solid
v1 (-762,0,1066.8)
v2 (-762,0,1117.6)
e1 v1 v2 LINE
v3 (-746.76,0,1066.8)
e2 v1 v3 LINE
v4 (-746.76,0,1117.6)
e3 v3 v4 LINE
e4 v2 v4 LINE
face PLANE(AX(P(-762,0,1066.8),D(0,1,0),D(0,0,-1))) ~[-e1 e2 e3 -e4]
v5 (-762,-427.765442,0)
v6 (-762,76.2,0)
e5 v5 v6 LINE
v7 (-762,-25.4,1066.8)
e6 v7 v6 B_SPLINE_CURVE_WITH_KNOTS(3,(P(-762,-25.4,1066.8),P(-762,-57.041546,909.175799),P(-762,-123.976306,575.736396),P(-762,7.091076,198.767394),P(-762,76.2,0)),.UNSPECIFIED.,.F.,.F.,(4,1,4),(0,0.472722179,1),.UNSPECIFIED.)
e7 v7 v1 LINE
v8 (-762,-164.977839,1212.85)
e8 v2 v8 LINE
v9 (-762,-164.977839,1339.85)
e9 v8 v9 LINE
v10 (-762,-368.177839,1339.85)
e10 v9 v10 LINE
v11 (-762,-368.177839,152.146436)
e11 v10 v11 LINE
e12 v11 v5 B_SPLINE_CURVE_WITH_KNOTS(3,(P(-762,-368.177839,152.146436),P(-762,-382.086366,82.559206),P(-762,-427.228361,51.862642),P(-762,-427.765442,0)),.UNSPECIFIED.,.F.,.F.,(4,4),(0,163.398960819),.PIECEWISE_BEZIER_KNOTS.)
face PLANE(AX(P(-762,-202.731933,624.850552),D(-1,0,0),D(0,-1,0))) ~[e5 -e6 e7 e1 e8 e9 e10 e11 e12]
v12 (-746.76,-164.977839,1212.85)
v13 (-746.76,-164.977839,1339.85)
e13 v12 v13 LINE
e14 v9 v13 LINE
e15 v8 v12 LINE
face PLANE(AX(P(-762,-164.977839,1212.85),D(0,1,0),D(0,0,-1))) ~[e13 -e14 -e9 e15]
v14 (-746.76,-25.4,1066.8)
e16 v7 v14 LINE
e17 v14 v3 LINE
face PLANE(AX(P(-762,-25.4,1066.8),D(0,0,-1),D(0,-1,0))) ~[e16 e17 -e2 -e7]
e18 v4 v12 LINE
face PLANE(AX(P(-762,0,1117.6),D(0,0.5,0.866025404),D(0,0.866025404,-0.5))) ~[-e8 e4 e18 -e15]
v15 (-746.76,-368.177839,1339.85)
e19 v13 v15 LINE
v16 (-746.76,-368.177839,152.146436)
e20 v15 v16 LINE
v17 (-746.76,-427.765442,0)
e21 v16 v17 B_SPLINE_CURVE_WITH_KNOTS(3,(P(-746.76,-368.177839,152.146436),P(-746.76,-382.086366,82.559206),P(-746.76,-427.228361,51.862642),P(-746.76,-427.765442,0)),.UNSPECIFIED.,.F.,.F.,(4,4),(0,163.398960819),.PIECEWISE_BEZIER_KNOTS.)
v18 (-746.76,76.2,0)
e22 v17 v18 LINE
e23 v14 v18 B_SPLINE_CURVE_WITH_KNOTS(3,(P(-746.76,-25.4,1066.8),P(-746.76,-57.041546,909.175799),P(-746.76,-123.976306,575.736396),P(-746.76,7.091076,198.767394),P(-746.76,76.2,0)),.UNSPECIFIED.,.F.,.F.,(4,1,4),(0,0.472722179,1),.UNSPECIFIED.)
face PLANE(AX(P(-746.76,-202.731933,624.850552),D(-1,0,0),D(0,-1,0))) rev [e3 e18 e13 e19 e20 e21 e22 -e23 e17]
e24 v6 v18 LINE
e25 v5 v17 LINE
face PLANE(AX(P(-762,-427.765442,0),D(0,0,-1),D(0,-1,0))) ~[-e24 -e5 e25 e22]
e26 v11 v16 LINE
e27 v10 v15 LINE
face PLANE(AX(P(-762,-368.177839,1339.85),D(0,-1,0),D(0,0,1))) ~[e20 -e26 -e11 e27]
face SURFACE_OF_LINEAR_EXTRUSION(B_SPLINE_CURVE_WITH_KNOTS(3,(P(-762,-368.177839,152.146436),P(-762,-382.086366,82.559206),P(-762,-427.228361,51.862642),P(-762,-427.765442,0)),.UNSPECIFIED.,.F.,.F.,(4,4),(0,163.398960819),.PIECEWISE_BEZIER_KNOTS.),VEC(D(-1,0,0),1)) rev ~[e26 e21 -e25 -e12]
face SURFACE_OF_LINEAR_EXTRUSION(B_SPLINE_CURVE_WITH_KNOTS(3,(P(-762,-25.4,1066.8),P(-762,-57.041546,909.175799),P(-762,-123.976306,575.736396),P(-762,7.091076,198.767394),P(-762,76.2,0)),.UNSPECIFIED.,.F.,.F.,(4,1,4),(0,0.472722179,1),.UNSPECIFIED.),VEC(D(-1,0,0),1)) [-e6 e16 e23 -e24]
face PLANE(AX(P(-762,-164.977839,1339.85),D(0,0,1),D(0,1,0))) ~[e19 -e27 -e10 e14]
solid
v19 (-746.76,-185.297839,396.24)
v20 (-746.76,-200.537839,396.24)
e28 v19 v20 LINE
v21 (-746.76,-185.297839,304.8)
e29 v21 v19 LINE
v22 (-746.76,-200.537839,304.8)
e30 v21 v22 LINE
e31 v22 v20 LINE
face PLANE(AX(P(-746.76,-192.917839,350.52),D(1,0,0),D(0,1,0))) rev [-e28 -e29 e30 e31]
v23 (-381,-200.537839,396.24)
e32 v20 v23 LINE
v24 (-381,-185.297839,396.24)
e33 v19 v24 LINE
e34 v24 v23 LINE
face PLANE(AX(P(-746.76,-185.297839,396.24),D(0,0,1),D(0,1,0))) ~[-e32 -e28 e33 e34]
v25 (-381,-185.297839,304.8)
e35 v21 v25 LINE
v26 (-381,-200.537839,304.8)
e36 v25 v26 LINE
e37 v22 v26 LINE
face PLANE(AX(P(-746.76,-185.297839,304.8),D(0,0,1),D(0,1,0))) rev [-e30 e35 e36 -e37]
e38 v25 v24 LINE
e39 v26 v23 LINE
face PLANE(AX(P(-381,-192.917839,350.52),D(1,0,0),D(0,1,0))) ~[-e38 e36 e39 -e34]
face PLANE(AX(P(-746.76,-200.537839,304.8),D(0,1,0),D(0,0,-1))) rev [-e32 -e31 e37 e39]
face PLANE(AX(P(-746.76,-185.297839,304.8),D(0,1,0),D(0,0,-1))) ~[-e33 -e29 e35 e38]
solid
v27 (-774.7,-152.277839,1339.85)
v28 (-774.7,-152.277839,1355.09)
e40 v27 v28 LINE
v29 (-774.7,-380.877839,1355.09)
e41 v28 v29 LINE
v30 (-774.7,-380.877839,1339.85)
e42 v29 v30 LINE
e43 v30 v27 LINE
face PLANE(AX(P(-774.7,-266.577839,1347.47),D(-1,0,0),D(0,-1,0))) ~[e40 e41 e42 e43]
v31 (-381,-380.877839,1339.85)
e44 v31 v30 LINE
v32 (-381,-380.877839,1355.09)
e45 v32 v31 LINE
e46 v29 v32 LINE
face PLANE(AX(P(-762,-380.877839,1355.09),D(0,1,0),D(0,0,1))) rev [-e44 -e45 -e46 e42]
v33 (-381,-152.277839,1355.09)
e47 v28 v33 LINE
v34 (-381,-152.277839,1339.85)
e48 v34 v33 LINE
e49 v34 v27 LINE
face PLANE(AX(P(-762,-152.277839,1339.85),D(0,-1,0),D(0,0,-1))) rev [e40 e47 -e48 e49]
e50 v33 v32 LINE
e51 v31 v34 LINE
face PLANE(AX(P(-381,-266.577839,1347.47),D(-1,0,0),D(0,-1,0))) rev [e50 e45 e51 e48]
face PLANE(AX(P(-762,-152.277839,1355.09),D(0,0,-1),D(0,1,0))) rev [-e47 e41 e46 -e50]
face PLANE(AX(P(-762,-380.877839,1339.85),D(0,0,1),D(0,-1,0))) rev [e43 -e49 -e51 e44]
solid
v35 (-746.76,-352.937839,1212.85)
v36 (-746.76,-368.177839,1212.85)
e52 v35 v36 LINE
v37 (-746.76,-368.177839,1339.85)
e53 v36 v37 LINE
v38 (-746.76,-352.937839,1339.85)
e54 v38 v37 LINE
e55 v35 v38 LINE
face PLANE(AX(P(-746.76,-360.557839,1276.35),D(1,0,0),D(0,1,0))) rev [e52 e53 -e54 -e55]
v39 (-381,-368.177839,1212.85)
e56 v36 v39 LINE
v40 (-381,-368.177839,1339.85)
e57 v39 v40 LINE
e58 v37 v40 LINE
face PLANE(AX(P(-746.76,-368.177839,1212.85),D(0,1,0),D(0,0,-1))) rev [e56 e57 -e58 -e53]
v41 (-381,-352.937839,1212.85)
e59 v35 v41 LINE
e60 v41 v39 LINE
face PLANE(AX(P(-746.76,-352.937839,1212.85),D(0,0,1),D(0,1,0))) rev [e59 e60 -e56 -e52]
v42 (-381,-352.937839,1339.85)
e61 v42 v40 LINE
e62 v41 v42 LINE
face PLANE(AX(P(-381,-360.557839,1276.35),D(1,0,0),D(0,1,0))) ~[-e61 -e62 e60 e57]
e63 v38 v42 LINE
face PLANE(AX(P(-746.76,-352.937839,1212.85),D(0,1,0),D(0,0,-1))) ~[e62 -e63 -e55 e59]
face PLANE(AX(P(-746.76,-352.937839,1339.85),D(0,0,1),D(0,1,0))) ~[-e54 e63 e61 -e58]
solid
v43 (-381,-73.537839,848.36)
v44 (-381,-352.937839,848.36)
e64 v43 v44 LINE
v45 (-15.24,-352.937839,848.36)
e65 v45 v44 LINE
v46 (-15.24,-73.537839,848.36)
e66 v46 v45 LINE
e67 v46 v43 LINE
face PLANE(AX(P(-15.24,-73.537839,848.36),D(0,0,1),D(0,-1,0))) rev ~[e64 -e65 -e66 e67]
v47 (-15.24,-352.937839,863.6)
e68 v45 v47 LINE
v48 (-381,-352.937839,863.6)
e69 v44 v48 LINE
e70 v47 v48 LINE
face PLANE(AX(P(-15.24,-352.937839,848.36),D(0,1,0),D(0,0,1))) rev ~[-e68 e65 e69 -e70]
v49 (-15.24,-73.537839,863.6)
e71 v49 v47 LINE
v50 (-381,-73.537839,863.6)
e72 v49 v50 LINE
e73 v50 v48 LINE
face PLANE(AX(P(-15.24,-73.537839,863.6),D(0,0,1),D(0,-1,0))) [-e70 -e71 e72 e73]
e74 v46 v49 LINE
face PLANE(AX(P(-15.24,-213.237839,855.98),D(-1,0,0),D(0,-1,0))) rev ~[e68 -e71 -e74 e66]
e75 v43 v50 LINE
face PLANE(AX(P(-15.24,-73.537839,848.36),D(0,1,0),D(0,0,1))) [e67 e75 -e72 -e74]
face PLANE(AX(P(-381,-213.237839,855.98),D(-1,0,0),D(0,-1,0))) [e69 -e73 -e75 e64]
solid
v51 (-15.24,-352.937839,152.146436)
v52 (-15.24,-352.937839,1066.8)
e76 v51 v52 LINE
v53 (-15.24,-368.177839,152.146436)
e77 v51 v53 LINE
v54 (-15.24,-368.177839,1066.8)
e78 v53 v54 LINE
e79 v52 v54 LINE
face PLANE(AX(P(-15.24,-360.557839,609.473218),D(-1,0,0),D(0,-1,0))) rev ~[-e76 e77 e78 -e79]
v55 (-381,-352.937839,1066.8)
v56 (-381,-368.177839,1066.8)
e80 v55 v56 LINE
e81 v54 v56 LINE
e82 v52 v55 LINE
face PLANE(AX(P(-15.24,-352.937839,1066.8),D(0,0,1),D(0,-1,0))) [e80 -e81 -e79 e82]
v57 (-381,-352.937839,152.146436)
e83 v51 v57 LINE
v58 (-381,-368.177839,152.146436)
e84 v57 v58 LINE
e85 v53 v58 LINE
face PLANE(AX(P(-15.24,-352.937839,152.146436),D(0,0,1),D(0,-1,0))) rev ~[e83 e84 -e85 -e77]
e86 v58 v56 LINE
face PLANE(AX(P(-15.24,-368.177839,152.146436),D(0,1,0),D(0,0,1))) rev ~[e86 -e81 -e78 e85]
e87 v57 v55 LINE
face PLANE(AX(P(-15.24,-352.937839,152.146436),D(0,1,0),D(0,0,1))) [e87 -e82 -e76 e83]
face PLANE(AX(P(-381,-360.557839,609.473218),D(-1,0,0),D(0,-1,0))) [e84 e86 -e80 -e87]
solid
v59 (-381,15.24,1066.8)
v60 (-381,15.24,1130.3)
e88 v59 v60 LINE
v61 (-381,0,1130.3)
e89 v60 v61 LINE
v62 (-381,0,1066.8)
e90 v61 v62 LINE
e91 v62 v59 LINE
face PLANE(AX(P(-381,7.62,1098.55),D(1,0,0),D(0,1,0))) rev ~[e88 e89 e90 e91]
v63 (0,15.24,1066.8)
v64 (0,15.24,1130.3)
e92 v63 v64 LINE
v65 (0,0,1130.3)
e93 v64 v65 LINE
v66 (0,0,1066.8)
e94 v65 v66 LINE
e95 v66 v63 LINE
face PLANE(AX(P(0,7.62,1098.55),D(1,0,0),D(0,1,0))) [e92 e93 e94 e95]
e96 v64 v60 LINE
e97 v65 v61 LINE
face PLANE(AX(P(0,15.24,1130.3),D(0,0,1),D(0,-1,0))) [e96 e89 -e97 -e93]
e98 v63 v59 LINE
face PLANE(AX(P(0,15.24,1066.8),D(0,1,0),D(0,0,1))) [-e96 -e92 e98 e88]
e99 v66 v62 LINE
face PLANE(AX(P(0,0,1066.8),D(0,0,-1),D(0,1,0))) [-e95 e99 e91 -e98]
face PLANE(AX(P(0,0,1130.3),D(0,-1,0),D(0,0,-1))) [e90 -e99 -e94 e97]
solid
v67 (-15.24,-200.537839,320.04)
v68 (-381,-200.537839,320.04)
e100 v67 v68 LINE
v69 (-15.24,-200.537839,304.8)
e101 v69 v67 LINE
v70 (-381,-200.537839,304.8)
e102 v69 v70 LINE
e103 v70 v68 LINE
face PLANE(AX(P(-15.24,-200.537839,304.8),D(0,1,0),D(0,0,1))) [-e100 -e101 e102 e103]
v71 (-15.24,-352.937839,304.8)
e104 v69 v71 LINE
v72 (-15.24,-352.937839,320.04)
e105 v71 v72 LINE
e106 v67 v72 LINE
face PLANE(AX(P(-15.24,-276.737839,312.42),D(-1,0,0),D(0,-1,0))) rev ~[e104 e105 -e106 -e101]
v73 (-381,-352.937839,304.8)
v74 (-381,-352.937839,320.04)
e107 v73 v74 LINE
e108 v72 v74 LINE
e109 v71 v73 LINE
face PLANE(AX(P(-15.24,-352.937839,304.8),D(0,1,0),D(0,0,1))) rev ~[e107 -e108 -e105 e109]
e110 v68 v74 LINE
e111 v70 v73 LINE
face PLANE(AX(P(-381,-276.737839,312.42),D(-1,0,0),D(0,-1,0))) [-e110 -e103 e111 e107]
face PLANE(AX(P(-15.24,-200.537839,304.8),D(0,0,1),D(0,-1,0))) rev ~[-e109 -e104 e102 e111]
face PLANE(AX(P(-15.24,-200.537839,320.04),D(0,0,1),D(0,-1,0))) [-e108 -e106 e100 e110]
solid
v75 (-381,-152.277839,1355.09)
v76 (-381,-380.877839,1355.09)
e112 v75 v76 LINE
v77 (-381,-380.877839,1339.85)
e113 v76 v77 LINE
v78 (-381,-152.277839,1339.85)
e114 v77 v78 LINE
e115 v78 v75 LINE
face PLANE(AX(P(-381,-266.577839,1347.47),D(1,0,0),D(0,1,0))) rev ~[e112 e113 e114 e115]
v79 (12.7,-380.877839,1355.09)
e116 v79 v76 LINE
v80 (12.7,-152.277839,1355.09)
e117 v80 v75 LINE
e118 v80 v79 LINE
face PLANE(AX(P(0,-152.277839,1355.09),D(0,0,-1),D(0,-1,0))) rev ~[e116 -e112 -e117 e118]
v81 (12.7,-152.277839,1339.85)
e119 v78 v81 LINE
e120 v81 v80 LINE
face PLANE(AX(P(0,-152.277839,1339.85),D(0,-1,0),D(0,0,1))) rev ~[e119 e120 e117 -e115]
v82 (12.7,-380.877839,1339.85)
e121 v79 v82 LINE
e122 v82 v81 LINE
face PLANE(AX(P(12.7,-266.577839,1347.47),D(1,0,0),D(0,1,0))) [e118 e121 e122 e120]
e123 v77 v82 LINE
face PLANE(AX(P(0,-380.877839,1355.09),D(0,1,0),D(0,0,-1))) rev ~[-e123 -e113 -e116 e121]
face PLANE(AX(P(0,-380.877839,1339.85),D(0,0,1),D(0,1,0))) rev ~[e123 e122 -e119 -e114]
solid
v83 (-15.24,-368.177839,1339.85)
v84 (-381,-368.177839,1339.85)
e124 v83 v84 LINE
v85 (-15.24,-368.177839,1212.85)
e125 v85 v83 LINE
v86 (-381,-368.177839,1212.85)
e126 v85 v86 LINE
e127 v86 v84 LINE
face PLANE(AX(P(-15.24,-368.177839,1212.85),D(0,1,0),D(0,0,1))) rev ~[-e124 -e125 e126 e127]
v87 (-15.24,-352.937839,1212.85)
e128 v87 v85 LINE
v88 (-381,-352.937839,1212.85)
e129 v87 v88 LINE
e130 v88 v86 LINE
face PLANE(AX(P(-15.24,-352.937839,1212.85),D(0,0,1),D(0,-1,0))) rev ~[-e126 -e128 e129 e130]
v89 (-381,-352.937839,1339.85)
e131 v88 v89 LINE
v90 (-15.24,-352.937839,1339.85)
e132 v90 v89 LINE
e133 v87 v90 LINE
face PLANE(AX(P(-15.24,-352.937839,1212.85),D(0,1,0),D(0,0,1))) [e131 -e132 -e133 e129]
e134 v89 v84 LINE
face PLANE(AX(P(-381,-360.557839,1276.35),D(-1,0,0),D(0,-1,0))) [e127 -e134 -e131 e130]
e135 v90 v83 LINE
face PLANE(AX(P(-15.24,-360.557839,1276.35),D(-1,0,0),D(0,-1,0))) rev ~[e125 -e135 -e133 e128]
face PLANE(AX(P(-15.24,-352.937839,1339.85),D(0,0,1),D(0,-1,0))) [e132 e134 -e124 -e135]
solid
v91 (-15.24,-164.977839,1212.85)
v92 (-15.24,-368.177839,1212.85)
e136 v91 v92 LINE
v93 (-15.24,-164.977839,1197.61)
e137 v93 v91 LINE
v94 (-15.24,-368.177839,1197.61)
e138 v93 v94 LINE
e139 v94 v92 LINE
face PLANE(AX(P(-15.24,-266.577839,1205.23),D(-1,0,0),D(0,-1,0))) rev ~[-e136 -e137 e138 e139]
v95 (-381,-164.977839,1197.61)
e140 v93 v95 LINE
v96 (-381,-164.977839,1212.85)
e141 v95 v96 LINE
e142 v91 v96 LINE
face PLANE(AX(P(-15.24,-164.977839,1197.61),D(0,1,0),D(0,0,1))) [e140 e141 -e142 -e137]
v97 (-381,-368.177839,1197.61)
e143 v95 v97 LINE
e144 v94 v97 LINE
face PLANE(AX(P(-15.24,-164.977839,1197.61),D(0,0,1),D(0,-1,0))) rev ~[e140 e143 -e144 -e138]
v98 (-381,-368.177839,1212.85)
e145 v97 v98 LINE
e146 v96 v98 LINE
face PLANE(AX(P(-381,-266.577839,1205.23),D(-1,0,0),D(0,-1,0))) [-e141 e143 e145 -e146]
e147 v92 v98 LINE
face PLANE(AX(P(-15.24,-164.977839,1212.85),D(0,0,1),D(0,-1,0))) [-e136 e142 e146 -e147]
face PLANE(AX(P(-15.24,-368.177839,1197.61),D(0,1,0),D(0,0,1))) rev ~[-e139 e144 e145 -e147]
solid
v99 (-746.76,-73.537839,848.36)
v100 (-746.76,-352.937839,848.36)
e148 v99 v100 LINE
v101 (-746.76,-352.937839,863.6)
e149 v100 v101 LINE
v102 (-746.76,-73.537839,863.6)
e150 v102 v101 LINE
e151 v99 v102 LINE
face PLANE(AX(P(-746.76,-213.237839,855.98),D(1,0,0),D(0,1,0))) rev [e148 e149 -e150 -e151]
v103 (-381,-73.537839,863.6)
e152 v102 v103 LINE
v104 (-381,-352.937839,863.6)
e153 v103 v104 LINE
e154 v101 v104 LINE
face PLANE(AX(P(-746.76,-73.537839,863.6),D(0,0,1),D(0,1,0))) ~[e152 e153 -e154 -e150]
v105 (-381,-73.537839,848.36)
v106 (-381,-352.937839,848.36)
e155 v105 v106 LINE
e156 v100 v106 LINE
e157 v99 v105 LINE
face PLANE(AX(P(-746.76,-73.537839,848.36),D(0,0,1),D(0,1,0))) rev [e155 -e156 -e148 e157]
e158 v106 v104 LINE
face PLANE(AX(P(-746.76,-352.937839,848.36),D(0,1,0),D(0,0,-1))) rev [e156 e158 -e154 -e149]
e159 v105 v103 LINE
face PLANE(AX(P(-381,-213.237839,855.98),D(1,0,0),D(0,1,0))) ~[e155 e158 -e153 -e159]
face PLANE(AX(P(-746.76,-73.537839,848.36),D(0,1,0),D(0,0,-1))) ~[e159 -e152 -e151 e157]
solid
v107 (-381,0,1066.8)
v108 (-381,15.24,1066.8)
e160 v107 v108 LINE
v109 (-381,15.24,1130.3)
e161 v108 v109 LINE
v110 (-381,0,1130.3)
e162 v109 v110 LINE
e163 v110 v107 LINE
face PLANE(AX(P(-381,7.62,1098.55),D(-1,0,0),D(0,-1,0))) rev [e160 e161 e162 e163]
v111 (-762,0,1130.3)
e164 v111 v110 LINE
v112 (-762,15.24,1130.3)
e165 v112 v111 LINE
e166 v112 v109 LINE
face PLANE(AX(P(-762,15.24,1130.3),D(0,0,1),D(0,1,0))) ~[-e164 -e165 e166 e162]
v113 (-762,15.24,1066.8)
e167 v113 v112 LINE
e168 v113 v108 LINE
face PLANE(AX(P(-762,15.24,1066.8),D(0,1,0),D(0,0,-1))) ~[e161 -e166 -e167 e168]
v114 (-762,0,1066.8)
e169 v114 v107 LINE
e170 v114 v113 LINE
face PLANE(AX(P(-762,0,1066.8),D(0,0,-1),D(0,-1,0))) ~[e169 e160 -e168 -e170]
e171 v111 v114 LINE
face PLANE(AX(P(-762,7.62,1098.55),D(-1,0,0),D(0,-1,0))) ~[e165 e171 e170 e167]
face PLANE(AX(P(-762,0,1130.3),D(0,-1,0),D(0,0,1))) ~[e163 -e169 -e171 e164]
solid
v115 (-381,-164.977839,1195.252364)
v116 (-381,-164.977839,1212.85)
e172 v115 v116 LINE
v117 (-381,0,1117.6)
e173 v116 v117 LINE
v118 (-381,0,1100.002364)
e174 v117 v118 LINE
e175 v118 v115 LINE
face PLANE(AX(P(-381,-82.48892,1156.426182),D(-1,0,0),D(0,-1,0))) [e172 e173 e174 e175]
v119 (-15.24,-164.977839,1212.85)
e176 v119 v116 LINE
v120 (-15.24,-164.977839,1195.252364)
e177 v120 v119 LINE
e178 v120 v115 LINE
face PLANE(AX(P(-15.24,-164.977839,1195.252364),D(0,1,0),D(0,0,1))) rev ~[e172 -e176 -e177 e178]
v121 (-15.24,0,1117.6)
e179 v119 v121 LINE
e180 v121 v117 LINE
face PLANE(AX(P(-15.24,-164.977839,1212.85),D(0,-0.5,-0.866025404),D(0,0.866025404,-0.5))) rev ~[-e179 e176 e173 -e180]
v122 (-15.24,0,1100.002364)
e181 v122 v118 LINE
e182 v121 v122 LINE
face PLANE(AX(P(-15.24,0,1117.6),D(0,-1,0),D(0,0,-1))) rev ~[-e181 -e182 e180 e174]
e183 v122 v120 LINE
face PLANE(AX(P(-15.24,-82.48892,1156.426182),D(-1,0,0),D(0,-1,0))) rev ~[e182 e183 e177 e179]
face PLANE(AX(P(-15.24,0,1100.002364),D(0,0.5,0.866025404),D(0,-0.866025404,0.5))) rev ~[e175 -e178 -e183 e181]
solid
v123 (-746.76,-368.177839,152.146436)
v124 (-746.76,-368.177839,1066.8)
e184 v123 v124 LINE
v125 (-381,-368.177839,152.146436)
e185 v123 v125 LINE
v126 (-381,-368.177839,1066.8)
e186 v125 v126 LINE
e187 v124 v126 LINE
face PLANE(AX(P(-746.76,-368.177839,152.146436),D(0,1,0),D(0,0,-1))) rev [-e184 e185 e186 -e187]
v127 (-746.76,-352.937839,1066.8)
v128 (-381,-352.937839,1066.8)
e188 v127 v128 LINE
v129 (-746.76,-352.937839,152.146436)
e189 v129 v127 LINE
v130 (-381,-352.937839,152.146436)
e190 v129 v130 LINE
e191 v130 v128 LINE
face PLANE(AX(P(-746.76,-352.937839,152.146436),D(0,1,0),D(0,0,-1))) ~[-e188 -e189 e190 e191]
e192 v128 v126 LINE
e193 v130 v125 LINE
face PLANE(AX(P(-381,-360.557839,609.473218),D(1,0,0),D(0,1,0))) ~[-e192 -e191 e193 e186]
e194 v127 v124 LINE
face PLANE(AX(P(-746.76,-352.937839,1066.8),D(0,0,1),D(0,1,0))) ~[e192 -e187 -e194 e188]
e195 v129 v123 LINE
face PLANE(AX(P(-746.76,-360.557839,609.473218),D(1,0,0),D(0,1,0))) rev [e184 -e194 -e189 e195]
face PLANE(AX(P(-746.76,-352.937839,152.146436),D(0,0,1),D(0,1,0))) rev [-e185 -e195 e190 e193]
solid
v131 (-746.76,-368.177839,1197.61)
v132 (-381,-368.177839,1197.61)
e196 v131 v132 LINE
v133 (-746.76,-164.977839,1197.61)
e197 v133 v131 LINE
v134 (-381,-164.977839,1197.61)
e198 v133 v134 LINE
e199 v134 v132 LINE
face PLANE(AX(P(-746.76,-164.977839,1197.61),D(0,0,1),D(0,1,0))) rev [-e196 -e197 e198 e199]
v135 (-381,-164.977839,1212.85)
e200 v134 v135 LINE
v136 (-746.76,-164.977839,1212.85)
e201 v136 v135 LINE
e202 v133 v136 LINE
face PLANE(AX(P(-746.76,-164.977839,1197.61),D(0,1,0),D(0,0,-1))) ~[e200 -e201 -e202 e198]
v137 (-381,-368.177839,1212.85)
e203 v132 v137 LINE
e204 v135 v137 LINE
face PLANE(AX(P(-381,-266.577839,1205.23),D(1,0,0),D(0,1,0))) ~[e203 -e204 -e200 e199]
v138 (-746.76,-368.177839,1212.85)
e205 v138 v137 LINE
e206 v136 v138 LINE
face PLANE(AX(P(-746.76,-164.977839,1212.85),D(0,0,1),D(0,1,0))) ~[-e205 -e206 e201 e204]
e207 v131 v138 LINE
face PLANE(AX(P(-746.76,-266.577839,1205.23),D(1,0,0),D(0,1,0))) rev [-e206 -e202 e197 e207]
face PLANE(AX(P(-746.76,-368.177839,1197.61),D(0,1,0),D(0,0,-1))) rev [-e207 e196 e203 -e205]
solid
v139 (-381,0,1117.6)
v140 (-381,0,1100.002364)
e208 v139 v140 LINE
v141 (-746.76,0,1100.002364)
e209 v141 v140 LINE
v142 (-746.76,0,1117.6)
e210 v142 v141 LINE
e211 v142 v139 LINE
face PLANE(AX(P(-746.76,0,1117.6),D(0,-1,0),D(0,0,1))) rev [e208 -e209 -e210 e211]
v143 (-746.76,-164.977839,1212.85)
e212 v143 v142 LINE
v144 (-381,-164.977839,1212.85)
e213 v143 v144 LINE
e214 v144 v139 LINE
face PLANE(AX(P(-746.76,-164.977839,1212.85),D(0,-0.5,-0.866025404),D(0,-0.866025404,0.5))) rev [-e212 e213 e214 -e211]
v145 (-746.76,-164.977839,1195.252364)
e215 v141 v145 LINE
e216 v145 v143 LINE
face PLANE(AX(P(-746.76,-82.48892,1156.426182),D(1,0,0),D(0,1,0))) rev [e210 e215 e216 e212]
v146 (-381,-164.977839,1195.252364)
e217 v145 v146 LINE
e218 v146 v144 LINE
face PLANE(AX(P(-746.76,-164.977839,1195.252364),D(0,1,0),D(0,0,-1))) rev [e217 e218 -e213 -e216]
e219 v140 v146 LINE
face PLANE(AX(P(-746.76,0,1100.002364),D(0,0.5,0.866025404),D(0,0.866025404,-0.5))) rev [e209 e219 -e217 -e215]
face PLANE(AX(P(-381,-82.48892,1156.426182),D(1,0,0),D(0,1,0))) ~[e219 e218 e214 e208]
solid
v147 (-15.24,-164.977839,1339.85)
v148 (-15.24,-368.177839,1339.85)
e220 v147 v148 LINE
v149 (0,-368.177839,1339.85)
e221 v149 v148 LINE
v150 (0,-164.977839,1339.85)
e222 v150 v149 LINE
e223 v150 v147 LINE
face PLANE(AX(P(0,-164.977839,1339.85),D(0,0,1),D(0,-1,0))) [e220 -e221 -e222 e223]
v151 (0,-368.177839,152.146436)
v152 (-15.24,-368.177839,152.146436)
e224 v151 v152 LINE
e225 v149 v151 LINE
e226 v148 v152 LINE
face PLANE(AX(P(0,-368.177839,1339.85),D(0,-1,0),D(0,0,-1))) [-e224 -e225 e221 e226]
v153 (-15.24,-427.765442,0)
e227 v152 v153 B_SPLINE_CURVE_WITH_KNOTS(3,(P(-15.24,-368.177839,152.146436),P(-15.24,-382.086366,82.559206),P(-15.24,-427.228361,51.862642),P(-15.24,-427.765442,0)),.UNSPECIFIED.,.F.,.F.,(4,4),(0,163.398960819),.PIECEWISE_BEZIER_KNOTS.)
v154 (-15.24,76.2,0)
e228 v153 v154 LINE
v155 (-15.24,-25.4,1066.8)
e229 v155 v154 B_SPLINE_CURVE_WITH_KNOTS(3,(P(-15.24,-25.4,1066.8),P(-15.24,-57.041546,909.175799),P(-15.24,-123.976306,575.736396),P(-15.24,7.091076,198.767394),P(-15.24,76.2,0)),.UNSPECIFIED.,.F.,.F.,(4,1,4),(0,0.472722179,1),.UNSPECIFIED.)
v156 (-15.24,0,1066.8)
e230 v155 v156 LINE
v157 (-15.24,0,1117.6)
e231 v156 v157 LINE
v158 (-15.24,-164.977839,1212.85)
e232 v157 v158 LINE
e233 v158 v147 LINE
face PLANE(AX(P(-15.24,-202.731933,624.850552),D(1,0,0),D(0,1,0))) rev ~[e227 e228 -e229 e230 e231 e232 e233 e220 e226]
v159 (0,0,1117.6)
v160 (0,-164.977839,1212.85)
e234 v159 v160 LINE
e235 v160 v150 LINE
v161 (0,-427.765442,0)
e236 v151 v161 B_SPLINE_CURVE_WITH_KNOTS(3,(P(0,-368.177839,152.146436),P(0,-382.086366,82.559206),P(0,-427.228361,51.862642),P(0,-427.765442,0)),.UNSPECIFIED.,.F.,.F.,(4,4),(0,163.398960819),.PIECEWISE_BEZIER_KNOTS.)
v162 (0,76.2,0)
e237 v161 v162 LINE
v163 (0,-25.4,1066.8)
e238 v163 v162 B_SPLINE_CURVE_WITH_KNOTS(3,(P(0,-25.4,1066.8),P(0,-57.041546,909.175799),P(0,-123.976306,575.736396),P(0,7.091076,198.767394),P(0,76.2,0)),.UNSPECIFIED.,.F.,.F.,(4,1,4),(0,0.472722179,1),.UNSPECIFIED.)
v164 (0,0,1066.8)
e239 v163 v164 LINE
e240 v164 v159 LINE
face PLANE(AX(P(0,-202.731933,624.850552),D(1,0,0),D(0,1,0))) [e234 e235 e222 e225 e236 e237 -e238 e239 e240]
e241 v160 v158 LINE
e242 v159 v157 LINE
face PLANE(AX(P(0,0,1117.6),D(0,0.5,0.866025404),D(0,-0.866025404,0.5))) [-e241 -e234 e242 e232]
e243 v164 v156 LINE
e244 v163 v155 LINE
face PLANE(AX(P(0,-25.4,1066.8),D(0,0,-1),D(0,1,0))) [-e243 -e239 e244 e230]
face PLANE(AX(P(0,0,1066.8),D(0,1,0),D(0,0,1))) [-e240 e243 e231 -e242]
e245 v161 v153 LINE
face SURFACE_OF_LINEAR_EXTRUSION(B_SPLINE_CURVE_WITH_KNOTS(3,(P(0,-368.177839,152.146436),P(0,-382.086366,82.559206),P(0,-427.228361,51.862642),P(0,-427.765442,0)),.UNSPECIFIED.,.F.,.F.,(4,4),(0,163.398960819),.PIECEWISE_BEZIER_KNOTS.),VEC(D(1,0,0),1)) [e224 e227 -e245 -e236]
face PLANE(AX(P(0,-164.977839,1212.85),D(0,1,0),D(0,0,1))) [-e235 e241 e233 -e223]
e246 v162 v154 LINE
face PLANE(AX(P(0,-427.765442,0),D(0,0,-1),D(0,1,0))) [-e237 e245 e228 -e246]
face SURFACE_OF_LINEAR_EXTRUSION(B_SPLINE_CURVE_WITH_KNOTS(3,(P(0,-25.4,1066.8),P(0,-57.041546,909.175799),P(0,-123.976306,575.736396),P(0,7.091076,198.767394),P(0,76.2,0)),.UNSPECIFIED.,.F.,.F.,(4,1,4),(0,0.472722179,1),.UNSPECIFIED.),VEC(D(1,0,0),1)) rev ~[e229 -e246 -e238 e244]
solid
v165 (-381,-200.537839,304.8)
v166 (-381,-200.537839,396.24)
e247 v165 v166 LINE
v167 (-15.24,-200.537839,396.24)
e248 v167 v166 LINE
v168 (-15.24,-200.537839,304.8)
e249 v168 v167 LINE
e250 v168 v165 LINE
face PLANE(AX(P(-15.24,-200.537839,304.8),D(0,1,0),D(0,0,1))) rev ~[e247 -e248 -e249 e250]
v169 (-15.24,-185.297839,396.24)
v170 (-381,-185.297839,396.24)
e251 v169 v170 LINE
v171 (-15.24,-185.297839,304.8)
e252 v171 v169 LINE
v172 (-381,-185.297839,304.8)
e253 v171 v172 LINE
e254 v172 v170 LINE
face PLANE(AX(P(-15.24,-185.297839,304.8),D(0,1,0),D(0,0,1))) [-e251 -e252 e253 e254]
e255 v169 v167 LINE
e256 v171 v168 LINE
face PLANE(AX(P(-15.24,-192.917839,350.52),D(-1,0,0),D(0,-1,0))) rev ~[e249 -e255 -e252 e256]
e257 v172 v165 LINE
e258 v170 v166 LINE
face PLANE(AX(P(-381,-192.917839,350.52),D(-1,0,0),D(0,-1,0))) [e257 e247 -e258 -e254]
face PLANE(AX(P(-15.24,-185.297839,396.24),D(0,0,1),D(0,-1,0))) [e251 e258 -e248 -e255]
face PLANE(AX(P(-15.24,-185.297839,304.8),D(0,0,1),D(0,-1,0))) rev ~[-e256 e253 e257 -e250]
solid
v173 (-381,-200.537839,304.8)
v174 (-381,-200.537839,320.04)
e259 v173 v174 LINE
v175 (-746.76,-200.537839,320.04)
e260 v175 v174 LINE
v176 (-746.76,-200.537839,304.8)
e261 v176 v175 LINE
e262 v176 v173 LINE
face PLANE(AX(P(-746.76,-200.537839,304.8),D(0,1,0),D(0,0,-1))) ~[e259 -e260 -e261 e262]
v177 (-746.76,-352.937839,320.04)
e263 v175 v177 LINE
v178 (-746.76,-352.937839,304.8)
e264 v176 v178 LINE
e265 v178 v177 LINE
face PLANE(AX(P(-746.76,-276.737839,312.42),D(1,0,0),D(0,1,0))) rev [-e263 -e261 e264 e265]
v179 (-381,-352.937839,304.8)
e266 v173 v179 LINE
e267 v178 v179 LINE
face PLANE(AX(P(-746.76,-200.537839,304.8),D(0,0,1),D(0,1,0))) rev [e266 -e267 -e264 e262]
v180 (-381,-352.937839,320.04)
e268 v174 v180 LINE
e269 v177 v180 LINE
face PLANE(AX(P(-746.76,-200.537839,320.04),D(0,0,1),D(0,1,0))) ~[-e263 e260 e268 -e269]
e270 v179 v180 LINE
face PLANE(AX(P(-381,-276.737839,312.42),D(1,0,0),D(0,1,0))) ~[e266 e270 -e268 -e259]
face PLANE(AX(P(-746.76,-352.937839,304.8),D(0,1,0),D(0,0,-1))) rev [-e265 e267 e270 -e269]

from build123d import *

# Parameters (mm, degrees)
F2_DEPTH       = 15.24
F4_DEPTH       = 381
F6_DEPTH       = 365.76
F7_W           = 203.2
F7_H           = 15.24
F8_DEPTH       = 365.76
F9_W           = 15.24
F9_H           = 127
F10_DEPTH      = 365.76
F12_DEPTH      = 381
F12_DEPTH_BACK = 12.7
F13_W          = 15.24
F13_H          = 914.6535638101
F14_DEPTH      = 365.76
F15_W          = 279.4
F15_H          = 15.24
F16_DEPTH      = 365.76
F17_W          = 152.4
F17_H          = 15.24
F18_DEPTH      = 365.76
F19_W          = 15.24
F19_H          = 91.44
F20_DEPTH      = 365.76


with BuildPart() as f2:
    # F1 (on Right) → F2 (new body)
    with BuildSketch(Plane.YZ):
        with BuildLine():
            Line((0, 1066.8), (0, 1117.6))
            Line((0, 1117.6), (-164.9778394209, 1212.85))
            Line((-164.9778394209, 1212.85), (-164.9778394209, 1339.85))
            Line((-164.9778394209, 1339.85), (-368.1778394209, 1339.85))
            Line((-368.1778394209, 1339.85), (-368.1778394209, 152.1464361899))
            add(Edge.make_bspline(
                [(-368.1778394209, 152.1464361899), (-382.086366415, 82.5592055917), (-427.2283613682, 51.862642169), (-427.7654417515, 0)],
                knots=[0, 0, 0, 0, 163.3989608192, 163.3989608192, 163.3989608192, 163.3989608192], degree=3))
            Line((-427.7654417515, 0), (-376.9654417515, 0))
            Line((-376.9654417515, 0), (0, 0))
            Line((0, 0), (76.2, 0))
            add(Edge.make_bspline(
                [(-25.4, 1066.8), (-57.0415458343, 909.1757988884), (-123.9763063255, 575.7363960136), (7.0910761644, 198.767393963), (76.2, 0)],
                knots=[0, 0, 0, 0, 0.4727221791, 1, 1, 1, 1], degree=3))
            Line((-25.4, 1066.8), (0, 1066.8))
        make_face()
    extrude(amount=-F2_DEPTH)


with BuildPart() as f4:
    # F3 (on Right) → F4 (new body, through all)
    with BuildSketch(Plane.YZ):
        Polygon((0, 1130.3), (0, 1117.6), (0, 1066.8), (15.24, 1066.8), (15.24, 1130.3), align=None)
    extrude(amount=-F4_DEPTH)


with BuildPart() as f6:
    # F5 (on face) → F6 (new body, through all)
    with BuildSketch(Plane(origin=(-15.24, 0, 0), x_dir=(0, -1, 0), z_dir=(-1, 0, 0))):
        Polygon((164.9778394209, 1212.85), (0, 1117.6), (0, 1100.0023637951), (164.9778394209, 1195.2523637951), align=None)
    extrude(amount=F6_DEPTH)


with BuildPart() as f8:
    # F7 (on face) → F8 (new body, through all)
    with BuildSketch(Plane(origin=(-15.24, 0, 0), x_dir=(0, -1, 0), z_dir=(-1, 0, 0))):
        with Locations((266.5778394209, 1205.23)):
            Rectangle(F7_W, F7_H)
    extrude(amount=F8_DEPTH)


with BuildPart() as f10:
    # F9 (on face) → F10 (new body, through all)
    with BuildSketch(Plane(origin=(-15.24, 0, 0), x_dir=(0, -1, 0), z_dir=(-1, 0, 0))):
        with Locations((360.5578394209, 1276.35)):
            Rectangle(F9_W, F9_H)
    extrude(amount=F10_DEPTH)


with BuildPart() as f12:
    # F11 (on face) → F12 (new body, two sides)
    with BuildSketch(Plane.YZ) as f12_sk:
        Polygon((-380.8778394209, 1355.09), (-380.8778394209, 1339.85), (-368.1778394209, 1339.85), (-164.9778394209, 1339.85), (-152.2778394209, 1339.85), (-152.2778394209, 1355.09), align=None)
    extrude(amount=-F12_DEPTH)
    extrude(f12_sk.sketch, amount=F12_DEPTH_BACK)


with BuildPart() as f14:
    # F13 (on face) → F14 (new body, through all)
    with BuildSketch(Plane(origin=(-15.24, 0, 0), x_dir=(0, -1, 0), z_dir=(-1, 0, 0))):
        with Locations((360.5578394209, 609.4732180949)):
            Rectangle(F13_W, F13_H)
    extrude(amount=F14_DEPTH)


with BuildPart() as f16:
    # F15 (on face) → F16 (new body, through all)
    with BuildSketch(Plane(origin=(-15.24, 0, 0), x_dir=(0, -1, 0), z_dir=(-1, 0, 0))):
        with Locations((213.2378394209, 855.98)):
            Rectangle(F15_W, F15_H)
    extrude(amount=F16_DEPTH)


with BuildPart() as f18:
    # F17 (on face) → F18 (new body, through all)
    with BuildSketch(Plane(origin=(-15.24, 0, 0), x_dir=(0, -1, 0), z_dir=(-1, 0, 0))):
        with Locations((276.7378394209, 312.42)):
            Rectangle(F17_W, F17_H)
    extrude(amount=F18_DEPTH)


with BuildPart() as f20:
    # F19 (on face) → F20 (new body, through all)
    with BuildSketch(Plane(origin=(-15.24, 0, 0), x_dir=(0, -1, 0), z_dir=(-1, 0, 0))):
        with Locations((192.9178394209, 350.52)):
            Rectangle(F19_W, F19_H)
    extrude(amount=F20_DEPTH)


with BuildPart() as f21_1:
    # F21: instance of F4
    add(f4.part.mirror(Plane.YZ.offset(-381)))


with BuildPart() as f21_2:
    # F21: instance of F6
    add(f6.part.mirror(Plane.YZ.offset(-381)))


with BuildPart() as f21_3:
    # F21: instance of F8
    add(f8.part.mirror(Plane.YZ.offset(-381)))


with BuildPart() as f21_4:
    # F21: instance of F10
    add(f10.part.mirror(Plane.YZ.offset(-381)))


with BuildPart() as f21_5:
    # F21: instance of F12
    add(f12.part.mirror(Plane.YZ.offset(-381)))


with BuildPart() as f21_6:
    # F21: instance of F14
    add(f14.part.mirror(Plane.YZ.offset(-381)))


with BuildPart() as f21_7:
    # F21: instance of F16
    add(f16.part.mirror(Plane.YZ.offset(-381)))


with BuildPart() as f21_8:
    # F21: instance of F18
    add(f18.part.mirror(Plane.YZ.offset(-381)))


with BuildPart() as f21_9:
    # F21: instance of F20
    add(f20.part.mirror(Plane.YZ.offset(-381)))


with BuildPart() as f21_10:
    # F21: instance of F2
    add(f2.part.mirror(Plane.YZ.offset(-381)))


solid = Compound([f2.part, f4.part, f6.part, f8.part, f10.part, f12.part, f14.part, f16.part, f18.part, f20.part, f21_1.part, f21_2.part, f21_3.part, f21_4.part, f21_5.part, f21_6.part, f21_7.part, f21_8.part, f21_9.part, f21_10.part])
